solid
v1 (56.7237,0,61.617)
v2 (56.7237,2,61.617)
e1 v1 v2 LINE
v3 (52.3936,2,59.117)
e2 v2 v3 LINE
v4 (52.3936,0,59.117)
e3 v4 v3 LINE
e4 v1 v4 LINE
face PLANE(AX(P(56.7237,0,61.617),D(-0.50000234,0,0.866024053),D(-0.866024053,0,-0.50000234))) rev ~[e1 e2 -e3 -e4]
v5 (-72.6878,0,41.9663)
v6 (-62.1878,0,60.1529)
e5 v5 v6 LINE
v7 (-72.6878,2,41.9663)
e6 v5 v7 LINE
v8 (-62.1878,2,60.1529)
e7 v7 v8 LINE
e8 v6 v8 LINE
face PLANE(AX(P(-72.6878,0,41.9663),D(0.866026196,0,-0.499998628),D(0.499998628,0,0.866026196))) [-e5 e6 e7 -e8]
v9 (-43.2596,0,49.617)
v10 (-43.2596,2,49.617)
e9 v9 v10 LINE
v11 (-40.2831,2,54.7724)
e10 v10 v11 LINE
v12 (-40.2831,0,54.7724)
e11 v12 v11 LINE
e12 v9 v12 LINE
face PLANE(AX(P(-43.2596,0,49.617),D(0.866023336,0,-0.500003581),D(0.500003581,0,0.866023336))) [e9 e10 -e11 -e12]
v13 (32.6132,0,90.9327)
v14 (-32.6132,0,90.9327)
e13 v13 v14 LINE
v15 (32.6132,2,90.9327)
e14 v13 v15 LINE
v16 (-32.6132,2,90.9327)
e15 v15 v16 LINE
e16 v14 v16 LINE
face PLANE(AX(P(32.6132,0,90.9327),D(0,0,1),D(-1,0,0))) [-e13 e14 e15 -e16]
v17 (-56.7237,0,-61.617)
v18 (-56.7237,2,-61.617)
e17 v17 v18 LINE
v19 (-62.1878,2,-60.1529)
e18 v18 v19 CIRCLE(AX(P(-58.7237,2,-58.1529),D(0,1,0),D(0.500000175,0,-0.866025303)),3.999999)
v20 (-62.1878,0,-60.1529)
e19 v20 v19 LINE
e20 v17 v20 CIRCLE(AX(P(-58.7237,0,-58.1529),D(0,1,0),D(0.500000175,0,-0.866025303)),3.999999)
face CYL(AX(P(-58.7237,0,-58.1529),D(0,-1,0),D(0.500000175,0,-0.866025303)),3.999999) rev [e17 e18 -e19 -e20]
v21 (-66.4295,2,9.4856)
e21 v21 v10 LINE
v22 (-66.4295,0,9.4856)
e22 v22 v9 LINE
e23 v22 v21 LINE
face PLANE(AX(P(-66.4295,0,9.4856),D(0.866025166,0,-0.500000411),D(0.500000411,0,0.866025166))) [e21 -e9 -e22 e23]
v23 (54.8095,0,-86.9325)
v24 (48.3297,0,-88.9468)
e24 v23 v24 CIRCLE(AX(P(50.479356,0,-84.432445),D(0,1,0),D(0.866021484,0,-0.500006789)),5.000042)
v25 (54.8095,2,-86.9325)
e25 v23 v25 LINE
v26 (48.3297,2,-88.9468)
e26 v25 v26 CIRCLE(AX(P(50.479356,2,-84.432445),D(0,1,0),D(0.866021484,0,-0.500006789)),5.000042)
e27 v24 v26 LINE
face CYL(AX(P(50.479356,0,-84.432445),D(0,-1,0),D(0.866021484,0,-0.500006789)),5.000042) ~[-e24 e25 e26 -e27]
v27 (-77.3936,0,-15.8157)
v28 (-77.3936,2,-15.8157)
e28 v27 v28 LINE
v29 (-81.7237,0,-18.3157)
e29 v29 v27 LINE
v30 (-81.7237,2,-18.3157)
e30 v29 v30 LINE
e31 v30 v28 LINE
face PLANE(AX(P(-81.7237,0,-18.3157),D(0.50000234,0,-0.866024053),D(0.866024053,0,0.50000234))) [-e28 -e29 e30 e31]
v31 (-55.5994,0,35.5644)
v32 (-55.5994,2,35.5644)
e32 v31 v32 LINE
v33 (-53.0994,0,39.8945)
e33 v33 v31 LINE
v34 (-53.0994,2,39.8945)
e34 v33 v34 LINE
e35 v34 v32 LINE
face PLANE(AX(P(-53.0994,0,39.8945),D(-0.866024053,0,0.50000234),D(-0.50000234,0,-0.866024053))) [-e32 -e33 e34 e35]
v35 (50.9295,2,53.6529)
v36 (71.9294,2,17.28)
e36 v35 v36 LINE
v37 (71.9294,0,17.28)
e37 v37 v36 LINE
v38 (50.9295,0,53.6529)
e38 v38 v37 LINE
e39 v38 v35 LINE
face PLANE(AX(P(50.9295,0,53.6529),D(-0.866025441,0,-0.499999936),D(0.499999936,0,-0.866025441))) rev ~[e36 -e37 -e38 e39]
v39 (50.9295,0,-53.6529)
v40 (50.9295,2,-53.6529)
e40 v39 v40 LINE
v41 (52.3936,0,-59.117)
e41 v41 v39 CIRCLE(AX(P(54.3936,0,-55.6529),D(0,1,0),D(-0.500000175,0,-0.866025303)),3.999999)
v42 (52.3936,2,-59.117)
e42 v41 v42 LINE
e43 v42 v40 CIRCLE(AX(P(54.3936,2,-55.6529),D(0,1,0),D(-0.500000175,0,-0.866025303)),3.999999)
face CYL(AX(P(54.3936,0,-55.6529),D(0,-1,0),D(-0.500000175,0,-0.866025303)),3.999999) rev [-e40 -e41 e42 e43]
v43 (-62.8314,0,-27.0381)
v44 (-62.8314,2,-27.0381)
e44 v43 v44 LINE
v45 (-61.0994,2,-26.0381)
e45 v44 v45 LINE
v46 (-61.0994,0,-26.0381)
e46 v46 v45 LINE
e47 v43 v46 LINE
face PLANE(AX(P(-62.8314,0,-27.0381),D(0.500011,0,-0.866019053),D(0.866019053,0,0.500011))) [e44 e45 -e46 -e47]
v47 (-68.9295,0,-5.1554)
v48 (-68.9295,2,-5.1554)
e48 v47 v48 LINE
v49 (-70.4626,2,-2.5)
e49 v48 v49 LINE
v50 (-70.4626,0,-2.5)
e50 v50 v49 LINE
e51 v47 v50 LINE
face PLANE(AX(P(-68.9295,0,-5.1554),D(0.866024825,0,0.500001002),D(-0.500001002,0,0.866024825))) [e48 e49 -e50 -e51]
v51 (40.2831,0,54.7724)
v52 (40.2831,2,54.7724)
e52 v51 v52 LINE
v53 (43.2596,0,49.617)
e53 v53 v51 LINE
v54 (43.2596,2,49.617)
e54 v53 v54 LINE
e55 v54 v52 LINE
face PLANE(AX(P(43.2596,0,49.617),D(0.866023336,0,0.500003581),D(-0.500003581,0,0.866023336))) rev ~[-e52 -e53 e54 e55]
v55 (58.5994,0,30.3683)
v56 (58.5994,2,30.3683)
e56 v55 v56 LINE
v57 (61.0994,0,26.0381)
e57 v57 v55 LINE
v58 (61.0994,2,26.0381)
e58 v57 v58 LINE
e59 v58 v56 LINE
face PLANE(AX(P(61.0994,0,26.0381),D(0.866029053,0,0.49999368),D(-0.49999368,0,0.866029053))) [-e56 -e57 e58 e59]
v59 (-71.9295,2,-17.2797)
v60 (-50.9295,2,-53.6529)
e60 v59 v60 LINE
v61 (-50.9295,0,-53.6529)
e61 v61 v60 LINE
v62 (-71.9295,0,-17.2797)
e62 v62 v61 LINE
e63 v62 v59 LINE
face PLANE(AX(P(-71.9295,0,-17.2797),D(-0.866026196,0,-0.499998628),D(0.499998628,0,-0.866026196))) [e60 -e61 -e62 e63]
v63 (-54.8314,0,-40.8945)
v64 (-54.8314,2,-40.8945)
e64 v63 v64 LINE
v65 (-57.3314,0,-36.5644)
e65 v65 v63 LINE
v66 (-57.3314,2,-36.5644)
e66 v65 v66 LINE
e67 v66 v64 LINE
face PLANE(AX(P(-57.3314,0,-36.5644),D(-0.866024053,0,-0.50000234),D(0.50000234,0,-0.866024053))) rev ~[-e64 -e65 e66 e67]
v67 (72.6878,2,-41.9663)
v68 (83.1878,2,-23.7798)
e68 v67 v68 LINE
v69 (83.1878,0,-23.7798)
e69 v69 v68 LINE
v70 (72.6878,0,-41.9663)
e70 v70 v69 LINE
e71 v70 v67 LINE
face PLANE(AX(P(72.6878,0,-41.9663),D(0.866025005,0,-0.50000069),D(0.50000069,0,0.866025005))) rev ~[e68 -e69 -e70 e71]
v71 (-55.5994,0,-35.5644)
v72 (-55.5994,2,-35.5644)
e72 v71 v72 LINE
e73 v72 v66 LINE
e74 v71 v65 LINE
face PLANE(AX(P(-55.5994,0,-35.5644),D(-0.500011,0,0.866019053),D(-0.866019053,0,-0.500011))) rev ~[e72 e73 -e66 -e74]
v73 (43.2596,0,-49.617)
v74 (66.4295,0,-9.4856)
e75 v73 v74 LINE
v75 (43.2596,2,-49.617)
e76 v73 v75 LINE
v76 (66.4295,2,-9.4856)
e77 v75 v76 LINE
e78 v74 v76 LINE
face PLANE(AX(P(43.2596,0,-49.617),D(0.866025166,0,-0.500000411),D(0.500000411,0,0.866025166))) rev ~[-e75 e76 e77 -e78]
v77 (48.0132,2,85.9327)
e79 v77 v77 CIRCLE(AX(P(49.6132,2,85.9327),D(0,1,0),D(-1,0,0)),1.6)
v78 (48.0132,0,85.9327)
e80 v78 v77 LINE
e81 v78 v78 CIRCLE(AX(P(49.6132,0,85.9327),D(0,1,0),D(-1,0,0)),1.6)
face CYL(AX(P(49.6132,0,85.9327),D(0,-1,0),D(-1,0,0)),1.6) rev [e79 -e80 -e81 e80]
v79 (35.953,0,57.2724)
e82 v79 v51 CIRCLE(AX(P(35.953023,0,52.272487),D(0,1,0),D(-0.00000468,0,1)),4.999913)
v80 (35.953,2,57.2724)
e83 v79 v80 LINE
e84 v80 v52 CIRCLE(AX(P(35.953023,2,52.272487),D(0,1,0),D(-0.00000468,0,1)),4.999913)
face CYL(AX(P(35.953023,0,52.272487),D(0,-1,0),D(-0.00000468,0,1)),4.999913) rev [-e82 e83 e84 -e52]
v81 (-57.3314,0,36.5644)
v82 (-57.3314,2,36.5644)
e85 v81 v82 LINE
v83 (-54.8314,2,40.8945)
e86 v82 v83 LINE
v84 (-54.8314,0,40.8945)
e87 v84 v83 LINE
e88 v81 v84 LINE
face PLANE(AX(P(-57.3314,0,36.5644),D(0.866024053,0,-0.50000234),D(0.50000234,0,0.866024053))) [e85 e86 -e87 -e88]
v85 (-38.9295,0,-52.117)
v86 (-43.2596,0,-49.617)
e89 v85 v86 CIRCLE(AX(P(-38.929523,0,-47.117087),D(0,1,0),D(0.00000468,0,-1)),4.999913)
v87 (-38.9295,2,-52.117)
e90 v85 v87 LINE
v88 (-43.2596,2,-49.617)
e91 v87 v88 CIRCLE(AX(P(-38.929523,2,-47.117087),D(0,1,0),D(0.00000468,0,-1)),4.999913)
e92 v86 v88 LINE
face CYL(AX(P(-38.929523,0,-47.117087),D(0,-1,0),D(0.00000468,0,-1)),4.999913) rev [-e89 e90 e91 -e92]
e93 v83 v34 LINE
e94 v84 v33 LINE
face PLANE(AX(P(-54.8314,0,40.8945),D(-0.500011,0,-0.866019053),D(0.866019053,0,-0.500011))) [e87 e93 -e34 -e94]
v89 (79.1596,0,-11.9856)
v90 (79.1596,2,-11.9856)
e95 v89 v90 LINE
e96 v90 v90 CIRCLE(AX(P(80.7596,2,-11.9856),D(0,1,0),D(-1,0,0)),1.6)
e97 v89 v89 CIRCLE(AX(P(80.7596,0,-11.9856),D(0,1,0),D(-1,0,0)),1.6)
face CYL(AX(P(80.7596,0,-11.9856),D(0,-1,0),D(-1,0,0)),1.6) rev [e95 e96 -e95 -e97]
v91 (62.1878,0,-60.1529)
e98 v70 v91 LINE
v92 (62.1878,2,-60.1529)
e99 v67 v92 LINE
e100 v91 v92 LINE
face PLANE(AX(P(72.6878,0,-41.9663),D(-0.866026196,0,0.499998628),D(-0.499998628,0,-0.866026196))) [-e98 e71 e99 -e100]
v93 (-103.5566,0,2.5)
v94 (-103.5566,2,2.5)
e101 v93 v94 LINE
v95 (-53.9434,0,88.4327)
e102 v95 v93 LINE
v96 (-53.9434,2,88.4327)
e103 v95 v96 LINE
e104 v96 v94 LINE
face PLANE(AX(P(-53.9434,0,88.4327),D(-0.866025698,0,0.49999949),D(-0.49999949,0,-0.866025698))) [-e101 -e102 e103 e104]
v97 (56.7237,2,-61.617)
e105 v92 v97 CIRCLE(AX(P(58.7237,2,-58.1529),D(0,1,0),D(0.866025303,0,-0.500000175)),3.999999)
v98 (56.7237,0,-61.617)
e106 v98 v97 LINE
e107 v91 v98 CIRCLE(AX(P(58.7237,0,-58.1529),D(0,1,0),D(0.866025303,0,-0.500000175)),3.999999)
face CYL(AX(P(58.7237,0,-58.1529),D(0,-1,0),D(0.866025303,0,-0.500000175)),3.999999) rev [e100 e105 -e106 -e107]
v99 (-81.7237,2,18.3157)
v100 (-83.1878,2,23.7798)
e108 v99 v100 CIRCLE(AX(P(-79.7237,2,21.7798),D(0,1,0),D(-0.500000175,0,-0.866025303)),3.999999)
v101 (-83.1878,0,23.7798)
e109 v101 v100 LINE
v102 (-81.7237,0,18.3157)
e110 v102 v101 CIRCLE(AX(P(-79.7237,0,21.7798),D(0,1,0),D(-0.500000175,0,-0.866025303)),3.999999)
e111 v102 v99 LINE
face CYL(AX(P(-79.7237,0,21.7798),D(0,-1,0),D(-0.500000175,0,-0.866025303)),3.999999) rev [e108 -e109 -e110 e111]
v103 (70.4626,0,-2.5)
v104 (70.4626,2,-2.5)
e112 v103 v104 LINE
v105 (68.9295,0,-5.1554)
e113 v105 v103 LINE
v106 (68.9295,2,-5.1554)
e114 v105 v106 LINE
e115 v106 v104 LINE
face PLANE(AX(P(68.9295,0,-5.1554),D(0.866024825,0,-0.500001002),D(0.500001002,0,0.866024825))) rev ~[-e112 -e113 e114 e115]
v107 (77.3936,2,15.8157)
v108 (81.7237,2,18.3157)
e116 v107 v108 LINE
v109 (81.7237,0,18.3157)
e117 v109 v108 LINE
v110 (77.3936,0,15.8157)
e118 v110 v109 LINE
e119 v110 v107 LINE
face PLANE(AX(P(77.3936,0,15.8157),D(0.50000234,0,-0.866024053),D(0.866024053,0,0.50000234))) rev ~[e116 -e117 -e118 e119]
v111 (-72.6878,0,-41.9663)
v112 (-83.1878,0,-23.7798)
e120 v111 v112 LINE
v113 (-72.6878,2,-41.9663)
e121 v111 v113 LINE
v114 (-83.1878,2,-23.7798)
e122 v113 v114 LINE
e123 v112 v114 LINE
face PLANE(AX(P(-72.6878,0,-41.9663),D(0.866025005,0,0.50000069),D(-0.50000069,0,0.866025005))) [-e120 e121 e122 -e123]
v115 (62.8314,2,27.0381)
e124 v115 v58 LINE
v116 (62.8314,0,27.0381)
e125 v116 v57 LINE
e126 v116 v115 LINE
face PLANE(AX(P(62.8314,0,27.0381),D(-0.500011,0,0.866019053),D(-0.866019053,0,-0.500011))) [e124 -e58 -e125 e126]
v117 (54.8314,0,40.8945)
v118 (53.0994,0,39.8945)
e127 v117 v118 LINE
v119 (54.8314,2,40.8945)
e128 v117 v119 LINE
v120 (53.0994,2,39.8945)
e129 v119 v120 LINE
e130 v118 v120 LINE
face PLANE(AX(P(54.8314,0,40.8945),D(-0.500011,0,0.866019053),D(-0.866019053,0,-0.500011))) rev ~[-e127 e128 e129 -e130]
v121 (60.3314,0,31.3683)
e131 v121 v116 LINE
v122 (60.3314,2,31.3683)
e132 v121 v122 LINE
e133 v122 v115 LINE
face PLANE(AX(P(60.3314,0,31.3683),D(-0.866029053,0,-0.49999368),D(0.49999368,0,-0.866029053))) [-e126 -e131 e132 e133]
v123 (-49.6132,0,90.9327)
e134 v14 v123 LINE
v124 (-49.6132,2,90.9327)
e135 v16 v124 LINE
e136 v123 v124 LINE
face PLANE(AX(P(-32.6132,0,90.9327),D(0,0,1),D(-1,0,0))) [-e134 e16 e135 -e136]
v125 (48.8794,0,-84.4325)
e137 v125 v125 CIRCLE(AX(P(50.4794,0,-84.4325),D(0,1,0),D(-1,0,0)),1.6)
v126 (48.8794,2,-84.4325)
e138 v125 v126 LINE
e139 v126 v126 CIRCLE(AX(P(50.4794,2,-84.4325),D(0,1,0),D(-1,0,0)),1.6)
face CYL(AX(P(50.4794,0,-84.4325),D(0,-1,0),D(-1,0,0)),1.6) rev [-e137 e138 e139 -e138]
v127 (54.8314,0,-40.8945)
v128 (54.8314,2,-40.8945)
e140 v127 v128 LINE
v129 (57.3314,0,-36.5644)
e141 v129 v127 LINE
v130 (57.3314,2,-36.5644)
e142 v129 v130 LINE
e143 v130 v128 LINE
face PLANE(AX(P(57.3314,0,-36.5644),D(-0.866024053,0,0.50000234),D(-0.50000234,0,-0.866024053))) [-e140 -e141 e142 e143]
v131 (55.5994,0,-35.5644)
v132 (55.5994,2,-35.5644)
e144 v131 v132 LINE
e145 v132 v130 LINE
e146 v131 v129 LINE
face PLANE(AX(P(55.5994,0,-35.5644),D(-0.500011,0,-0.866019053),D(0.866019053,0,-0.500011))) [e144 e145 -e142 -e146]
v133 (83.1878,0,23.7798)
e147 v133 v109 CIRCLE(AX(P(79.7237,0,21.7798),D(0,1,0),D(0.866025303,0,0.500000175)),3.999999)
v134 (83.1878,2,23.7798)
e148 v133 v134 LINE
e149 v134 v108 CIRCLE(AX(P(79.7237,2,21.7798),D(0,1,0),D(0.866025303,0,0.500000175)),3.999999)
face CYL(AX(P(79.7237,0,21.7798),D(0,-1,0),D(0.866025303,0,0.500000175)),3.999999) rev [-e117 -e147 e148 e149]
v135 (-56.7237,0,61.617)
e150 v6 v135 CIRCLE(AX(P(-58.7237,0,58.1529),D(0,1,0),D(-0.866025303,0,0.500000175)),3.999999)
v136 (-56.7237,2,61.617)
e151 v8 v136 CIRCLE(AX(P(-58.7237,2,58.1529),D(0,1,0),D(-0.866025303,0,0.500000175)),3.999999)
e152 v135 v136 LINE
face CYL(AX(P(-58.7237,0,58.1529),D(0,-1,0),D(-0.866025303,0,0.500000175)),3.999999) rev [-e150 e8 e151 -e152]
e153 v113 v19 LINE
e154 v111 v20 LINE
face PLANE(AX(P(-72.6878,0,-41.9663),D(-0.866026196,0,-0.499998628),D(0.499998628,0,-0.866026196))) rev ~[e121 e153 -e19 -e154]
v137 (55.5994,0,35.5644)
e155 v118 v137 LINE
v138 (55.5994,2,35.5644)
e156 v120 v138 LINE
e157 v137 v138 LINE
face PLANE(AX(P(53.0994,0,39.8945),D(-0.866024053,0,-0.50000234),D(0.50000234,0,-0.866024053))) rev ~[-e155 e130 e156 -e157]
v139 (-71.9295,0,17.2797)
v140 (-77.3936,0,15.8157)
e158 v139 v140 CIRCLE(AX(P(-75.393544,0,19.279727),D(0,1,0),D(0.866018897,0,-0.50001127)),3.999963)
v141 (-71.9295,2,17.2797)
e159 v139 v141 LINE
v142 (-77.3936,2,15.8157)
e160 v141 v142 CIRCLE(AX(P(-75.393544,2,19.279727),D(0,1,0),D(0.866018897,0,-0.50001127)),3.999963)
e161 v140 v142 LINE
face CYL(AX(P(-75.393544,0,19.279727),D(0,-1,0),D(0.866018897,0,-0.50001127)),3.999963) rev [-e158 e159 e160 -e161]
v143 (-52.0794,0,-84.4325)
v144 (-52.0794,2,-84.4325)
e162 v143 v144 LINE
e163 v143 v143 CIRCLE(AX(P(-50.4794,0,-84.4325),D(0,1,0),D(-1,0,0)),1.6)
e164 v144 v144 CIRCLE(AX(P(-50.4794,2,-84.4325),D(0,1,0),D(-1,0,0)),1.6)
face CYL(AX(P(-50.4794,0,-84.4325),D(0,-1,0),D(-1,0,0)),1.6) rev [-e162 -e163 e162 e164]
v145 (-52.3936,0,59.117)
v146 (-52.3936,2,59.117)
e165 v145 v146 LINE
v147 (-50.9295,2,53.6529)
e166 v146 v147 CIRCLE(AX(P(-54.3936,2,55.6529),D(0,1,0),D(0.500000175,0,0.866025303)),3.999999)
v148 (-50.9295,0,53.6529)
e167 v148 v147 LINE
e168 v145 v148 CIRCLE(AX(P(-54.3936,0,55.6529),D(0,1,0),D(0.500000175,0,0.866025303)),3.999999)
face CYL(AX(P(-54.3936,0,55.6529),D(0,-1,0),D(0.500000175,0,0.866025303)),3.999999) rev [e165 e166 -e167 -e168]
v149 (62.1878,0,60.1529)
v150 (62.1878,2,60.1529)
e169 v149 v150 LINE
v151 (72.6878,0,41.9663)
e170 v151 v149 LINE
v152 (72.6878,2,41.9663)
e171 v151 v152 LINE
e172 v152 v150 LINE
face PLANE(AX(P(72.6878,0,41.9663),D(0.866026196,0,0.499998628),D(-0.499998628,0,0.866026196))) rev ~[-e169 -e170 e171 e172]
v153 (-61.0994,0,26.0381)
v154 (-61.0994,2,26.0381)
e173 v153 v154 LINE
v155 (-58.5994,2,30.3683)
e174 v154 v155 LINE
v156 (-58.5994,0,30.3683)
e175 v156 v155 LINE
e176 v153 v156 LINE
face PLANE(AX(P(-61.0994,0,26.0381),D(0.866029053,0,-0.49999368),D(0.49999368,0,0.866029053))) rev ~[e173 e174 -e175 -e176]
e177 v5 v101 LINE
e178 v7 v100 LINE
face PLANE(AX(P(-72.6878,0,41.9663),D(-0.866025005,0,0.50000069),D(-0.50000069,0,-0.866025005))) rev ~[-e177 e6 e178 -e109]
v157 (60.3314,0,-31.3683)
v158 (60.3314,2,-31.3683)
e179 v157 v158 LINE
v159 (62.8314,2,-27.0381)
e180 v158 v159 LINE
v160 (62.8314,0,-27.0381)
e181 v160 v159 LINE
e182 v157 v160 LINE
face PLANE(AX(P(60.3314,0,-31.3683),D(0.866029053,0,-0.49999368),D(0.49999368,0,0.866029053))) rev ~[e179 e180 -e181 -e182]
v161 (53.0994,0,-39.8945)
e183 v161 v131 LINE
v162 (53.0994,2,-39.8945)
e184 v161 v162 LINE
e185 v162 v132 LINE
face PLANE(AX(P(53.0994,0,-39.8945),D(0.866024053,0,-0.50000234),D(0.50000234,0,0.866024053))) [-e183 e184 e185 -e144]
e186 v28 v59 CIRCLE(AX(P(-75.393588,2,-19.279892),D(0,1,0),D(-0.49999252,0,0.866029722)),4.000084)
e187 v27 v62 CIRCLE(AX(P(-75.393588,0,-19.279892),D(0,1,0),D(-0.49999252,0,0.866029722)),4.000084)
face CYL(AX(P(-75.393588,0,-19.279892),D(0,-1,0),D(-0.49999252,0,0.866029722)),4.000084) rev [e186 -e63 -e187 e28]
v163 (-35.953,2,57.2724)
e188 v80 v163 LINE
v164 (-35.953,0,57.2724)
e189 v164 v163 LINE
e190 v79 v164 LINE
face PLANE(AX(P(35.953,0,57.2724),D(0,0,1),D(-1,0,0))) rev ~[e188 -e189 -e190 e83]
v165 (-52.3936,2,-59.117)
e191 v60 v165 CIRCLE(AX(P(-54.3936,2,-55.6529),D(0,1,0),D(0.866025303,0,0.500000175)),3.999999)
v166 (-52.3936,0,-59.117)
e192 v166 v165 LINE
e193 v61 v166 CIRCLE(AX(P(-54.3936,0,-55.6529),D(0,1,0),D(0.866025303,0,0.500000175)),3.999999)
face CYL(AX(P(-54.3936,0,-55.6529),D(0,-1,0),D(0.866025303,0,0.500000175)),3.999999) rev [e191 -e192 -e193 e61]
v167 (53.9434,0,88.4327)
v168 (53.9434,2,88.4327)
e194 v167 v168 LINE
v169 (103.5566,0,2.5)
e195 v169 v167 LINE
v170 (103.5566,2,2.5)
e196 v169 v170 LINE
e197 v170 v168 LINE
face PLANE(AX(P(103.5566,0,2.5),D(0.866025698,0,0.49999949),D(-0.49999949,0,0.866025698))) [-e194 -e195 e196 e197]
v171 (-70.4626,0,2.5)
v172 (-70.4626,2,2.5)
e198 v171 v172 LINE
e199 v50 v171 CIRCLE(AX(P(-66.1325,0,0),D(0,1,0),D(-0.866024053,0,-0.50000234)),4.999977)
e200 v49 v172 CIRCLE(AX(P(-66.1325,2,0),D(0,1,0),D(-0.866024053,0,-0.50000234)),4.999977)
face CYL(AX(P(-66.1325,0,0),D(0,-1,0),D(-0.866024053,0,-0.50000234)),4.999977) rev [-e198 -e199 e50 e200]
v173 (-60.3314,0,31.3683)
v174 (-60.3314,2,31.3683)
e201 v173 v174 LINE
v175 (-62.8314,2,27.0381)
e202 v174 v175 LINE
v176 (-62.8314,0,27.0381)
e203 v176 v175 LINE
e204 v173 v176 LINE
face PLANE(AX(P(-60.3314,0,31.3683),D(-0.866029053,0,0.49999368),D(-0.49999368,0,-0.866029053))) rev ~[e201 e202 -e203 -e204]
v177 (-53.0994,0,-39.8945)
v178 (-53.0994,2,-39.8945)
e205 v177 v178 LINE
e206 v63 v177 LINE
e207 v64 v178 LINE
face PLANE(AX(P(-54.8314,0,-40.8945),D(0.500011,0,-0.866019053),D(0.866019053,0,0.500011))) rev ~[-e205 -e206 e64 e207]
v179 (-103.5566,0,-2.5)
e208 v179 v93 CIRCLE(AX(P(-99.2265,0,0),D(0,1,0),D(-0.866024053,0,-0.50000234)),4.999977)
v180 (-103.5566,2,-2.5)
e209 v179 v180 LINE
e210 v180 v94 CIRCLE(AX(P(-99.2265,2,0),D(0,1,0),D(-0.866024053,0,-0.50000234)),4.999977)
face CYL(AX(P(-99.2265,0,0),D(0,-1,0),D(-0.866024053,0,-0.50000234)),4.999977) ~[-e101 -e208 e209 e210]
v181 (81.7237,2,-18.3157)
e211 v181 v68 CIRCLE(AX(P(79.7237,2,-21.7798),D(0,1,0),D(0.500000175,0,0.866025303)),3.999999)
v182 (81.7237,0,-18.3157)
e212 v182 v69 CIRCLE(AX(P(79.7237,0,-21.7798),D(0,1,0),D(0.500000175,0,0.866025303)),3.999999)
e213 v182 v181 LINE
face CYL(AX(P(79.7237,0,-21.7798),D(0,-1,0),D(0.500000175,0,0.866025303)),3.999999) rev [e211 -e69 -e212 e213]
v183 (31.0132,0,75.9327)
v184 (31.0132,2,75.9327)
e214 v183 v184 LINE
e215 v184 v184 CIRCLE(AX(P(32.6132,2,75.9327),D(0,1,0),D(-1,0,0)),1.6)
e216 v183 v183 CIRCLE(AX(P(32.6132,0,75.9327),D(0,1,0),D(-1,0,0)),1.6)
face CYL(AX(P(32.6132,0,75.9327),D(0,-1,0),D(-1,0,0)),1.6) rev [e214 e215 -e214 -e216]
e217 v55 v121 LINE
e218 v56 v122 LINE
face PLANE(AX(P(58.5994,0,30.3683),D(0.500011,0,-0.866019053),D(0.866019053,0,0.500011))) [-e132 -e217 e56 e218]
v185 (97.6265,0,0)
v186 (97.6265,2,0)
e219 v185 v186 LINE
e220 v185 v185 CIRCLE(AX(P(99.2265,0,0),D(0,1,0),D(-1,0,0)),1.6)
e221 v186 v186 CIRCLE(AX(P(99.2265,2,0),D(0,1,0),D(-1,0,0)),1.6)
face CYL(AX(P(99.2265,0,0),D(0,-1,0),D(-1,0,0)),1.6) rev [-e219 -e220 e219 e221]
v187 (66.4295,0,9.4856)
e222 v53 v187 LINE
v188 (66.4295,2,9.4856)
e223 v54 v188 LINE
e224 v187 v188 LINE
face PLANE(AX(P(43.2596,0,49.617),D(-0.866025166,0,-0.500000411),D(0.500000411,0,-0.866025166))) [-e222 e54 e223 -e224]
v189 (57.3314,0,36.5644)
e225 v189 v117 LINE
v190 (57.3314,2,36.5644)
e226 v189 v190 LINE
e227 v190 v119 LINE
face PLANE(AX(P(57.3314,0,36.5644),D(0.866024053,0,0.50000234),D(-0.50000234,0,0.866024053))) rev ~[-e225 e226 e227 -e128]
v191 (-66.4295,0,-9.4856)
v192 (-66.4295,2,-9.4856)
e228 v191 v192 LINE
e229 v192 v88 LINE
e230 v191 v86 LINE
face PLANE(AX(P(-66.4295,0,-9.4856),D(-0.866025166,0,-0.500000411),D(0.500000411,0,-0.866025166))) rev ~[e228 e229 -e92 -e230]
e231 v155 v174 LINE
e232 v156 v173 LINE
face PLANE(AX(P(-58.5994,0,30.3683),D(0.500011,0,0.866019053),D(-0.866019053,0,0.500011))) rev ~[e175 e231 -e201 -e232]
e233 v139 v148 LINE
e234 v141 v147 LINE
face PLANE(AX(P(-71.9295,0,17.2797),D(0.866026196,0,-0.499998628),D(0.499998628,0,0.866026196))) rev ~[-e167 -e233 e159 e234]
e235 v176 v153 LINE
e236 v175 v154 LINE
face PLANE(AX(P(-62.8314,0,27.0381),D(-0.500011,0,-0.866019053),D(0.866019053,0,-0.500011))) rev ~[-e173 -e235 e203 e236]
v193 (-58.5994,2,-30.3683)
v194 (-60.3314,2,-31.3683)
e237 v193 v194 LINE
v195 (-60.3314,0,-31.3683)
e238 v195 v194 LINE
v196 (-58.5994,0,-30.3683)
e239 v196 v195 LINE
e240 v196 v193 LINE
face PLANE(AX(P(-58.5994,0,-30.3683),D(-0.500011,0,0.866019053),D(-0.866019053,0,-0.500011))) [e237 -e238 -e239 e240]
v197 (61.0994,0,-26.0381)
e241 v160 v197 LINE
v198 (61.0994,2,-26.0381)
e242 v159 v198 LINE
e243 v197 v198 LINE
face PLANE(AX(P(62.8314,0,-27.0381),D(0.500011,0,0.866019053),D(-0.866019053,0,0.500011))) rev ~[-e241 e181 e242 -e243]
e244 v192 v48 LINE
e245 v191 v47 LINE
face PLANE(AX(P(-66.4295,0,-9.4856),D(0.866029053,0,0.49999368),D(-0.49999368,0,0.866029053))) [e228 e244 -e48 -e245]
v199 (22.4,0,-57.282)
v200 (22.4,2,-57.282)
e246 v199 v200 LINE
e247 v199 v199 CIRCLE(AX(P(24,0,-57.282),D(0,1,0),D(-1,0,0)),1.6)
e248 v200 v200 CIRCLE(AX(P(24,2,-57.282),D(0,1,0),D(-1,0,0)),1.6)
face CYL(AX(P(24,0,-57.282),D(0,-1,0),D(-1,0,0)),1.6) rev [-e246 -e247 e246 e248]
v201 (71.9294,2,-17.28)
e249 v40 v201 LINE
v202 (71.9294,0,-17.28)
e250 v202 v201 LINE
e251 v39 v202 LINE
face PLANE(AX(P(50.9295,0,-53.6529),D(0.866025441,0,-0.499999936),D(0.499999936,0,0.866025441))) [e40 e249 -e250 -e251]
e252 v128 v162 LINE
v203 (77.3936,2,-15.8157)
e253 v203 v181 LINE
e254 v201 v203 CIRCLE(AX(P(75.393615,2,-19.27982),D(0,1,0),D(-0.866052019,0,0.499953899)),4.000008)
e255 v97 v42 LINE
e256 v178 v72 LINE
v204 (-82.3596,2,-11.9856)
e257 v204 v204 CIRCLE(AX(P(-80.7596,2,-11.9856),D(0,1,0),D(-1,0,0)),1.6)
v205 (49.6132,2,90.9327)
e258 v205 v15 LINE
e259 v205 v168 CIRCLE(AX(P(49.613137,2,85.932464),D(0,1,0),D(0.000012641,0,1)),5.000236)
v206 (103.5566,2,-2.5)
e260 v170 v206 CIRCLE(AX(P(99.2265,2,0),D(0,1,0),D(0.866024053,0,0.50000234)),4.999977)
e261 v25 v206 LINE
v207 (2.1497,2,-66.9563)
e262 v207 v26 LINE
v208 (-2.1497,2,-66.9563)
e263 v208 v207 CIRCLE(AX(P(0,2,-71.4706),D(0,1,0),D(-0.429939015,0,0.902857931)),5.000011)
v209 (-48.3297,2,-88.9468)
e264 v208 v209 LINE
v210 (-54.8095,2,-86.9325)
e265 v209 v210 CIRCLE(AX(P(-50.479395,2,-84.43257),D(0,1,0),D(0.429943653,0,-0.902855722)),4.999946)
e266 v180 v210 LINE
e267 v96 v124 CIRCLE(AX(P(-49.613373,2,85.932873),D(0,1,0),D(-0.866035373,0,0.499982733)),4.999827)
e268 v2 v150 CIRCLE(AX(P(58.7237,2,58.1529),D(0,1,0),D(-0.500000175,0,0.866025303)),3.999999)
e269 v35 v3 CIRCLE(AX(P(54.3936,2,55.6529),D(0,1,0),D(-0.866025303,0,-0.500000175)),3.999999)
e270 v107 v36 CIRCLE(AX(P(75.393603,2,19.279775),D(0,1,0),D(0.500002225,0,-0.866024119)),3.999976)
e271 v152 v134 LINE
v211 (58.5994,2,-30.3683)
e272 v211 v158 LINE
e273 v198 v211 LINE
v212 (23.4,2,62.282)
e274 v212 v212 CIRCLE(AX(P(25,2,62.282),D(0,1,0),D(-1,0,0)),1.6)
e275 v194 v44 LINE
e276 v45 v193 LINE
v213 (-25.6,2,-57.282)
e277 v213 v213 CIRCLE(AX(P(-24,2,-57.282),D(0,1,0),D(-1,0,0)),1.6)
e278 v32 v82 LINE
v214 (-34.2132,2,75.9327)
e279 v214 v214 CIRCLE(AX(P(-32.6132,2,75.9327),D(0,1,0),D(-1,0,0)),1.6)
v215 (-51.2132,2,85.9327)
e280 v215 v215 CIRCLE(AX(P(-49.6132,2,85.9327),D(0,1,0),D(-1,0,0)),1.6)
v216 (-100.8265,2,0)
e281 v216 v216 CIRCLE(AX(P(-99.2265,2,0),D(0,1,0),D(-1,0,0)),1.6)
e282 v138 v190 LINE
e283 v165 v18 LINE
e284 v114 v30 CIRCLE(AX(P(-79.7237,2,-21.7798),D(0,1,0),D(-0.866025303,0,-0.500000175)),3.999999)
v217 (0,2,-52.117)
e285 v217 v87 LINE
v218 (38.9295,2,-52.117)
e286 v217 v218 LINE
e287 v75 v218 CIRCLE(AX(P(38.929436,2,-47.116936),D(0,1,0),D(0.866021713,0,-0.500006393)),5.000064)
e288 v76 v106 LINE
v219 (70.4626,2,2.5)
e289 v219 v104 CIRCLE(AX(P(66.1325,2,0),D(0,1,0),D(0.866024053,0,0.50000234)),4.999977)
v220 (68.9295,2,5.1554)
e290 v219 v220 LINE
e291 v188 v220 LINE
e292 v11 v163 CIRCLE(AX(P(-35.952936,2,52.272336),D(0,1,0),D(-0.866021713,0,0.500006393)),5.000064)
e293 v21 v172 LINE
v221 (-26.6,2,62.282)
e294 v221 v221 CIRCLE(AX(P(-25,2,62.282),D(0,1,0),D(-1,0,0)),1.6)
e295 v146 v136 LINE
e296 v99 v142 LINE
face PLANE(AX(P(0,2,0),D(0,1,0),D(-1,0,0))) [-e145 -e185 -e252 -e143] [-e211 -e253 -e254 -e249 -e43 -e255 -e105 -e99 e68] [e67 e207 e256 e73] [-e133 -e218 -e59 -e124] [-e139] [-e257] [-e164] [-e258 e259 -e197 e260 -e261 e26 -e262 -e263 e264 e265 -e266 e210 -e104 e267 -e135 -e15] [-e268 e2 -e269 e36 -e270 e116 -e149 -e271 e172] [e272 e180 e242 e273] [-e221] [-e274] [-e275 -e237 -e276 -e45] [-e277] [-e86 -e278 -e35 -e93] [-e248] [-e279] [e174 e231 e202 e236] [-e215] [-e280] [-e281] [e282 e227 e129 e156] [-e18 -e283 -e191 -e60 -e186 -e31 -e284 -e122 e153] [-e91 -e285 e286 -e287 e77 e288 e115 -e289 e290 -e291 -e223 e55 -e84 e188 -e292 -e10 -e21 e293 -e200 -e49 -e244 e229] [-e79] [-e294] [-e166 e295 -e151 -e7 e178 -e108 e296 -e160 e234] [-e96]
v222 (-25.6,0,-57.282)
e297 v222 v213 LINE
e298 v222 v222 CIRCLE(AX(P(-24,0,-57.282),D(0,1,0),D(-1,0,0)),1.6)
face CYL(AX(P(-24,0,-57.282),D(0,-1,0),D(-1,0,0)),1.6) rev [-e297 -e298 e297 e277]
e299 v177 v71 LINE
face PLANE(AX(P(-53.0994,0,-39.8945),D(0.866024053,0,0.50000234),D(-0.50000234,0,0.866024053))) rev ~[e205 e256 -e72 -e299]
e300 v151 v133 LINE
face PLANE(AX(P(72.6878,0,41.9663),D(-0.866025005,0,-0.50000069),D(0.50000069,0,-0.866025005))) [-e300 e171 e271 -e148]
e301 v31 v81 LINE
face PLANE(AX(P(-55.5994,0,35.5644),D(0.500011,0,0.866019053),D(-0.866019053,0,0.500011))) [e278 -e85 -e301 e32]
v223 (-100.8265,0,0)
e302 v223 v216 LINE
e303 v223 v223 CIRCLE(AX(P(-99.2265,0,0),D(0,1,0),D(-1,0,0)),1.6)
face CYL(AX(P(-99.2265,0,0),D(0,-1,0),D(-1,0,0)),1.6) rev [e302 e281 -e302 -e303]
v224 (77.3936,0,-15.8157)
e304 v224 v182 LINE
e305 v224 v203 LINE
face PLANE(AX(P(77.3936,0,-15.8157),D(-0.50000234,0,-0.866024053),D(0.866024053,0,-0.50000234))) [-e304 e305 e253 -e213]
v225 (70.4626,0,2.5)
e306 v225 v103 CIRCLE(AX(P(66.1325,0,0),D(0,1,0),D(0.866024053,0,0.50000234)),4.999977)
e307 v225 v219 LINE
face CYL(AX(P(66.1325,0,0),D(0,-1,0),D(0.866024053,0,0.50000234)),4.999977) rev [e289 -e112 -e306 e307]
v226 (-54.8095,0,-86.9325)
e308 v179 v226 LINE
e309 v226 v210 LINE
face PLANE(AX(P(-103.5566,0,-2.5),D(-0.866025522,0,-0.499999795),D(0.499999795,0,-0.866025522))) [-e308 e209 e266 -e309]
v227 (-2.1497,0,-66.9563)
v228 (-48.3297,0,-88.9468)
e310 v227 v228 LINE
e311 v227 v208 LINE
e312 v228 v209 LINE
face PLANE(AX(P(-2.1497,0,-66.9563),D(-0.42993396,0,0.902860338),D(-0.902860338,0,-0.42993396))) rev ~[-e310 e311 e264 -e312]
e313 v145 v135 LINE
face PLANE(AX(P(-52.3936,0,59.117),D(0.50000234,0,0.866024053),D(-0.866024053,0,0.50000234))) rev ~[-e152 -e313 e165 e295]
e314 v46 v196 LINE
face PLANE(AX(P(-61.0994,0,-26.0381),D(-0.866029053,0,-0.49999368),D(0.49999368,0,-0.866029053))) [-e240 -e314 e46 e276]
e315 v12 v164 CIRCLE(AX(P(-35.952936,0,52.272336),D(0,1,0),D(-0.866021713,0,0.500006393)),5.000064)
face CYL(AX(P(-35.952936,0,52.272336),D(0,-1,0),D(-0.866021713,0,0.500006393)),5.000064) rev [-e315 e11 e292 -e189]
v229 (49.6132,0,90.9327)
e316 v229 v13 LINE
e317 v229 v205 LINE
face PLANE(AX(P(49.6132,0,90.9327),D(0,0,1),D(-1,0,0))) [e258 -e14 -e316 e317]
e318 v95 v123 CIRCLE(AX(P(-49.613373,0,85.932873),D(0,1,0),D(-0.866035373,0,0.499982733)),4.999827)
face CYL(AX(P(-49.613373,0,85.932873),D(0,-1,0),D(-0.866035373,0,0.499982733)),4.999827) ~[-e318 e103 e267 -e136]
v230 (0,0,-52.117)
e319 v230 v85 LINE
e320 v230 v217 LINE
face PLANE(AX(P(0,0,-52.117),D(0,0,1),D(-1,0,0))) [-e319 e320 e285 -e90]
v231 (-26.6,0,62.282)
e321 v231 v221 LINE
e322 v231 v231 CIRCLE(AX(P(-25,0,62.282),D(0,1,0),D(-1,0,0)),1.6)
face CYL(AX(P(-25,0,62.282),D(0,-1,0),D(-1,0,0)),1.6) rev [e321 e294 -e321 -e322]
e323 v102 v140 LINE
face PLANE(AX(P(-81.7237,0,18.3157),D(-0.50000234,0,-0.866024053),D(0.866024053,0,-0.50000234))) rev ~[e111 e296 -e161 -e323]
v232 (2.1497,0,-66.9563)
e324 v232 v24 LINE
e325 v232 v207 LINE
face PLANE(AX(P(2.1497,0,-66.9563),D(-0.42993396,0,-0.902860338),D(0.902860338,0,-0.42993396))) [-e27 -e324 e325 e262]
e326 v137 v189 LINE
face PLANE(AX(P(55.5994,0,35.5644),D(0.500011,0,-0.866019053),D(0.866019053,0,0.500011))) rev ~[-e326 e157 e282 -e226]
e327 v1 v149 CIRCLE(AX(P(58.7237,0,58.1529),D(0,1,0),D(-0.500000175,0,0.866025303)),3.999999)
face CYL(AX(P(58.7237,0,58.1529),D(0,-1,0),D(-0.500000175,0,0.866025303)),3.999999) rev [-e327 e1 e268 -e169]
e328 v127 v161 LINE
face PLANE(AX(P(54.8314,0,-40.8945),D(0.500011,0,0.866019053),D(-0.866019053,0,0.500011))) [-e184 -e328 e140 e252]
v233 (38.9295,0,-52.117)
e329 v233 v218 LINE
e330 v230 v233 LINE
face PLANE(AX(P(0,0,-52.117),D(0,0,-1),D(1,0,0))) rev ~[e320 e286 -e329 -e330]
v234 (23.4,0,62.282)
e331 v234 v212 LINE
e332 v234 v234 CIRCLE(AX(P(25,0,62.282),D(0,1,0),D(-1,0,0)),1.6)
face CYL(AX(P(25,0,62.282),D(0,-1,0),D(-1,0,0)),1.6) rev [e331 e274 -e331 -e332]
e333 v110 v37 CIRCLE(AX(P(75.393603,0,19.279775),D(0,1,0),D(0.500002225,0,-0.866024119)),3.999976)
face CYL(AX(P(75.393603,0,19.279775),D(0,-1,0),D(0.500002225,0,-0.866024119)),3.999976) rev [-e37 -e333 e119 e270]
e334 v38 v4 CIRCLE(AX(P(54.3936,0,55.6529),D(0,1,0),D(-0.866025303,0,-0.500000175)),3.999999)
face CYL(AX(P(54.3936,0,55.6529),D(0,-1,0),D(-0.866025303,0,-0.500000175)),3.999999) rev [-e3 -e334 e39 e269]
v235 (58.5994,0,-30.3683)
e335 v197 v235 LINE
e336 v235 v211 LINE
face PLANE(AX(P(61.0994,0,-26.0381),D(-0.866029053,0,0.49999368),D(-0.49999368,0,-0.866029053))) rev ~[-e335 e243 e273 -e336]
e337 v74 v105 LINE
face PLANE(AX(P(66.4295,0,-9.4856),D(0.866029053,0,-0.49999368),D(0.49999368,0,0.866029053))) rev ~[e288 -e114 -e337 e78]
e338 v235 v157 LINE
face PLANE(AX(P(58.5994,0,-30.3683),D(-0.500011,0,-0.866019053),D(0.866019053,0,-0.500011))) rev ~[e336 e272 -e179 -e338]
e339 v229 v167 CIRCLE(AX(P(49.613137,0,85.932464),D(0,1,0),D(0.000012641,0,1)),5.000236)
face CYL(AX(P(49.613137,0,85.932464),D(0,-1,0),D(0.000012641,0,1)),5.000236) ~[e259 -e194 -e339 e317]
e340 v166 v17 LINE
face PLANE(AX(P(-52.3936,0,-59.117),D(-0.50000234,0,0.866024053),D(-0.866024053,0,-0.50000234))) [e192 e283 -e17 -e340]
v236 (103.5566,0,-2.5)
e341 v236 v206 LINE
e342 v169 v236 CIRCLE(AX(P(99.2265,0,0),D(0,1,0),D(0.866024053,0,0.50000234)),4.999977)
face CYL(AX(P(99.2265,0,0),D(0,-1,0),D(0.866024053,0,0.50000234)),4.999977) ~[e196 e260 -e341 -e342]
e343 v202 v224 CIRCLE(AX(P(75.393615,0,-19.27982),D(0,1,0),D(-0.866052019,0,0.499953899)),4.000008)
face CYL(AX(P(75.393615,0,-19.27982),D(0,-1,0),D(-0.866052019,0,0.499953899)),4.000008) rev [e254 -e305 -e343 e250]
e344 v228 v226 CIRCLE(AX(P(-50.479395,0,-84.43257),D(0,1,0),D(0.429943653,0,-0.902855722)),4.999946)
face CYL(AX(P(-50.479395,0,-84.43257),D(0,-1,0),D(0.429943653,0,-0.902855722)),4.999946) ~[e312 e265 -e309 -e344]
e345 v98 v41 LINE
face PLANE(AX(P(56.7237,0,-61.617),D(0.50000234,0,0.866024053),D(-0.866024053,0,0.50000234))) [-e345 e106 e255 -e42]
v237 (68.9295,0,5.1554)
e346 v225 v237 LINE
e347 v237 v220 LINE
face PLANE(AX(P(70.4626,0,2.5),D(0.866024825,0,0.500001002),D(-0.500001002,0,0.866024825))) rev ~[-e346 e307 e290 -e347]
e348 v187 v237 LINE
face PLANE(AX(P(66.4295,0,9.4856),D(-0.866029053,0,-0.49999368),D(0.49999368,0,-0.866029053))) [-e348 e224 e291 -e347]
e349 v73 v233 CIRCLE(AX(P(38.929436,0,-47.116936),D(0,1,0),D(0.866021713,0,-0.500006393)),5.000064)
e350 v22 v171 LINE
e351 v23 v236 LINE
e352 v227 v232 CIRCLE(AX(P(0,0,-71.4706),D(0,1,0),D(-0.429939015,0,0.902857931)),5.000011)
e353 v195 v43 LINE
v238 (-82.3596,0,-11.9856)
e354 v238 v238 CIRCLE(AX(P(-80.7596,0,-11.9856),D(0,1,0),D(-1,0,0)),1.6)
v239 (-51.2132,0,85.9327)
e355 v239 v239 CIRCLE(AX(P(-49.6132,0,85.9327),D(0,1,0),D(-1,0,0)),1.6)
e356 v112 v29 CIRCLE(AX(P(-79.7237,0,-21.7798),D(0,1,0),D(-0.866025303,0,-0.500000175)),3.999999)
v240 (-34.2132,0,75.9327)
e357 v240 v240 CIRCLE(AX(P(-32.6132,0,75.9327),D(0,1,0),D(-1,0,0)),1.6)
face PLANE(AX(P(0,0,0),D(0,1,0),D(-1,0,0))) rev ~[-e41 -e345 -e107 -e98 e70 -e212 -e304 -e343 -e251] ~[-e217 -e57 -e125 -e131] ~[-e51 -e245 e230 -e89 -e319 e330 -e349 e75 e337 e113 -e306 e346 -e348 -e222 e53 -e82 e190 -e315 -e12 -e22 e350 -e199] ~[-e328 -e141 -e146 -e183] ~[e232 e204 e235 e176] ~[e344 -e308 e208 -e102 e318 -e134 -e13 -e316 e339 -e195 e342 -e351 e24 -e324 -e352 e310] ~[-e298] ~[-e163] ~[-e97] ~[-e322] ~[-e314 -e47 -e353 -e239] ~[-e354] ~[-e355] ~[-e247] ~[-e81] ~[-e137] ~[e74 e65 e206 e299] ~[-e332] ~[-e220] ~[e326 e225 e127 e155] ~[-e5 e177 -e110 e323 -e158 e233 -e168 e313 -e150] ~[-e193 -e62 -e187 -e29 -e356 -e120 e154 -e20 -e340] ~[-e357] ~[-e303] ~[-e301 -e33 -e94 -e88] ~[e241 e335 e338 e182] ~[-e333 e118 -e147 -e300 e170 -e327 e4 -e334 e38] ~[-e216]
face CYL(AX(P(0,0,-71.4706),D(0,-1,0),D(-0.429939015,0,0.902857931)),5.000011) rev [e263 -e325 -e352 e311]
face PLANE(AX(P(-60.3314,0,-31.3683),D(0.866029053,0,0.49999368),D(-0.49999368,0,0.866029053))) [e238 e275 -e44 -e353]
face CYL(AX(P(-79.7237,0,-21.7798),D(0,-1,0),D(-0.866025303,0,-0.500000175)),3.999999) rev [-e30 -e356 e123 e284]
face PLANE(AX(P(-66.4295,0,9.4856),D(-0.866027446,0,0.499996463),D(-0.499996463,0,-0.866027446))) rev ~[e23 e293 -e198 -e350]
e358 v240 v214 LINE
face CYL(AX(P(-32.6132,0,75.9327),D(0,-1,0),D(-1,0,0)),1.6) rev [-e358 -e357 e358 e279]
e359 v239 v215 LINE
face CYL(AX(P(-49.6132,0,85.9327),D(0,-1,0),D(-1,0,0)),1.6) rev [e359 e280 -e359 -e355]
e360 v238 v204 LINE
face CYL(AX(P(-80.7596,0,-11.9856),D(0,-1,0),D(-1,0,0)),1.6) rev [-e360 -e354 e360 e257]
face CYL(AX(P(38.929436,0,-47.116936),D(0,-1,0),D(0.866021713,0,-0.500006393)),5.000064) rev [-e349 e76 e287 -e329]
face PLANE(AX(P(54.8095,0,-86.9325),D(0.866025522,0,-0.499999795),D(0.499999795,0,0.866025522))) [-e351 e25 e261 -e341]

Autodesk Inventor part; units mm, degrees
ref_plane "YZ Plane" through (0, 0, 0) normal (1, 0, 0) x (0, 1, 0)
ref_plane "XZ Plane" through (0, 0, 0) normal (0, 1, 0) x (-1, 0, 0)
ref_plane "XY Plane" through (0, 0, 0) normal (0, 0, 1) x (1, 0, 0)
sketch "Sketch1" plane through (0, 0, 0) normal (0, 1, 0) x (-1, 0, 0)
  line L0 (72.6878, -41.9663) -> (62.1878, -60.1529)
  line L1 (72.6878, -41.9663) -> (83.1878, -23.7798)
  line L2 (81.7237, -18.3157) -> (77.3936, -15.8157)
  line L3 (71.9295, -17.2797) -> (50.9295, -53.6529)
  line L4 (52.3936, -59.117) -> (56.7237, -61.617)
  arc A0 (56.7237, -61.617) -> (62.1878, -60.1529) centre (58.7237, -58.1529) ccw
  arc A1 (50.9295, -53.6529) -> (52.3936, -59.117) centre (54.3936, -55.6529) ccw
  arc A2 (77.3936, -15.8157) -> (71.9295, -17.2797) centre (75.3936, -19.2798) ccw
  arc A3 (83.1878, -23.7798) -> (81.7237, -18.3157) centre (79.7237, -21.7798) ccw
  line L5 (55.5994, -35.5644) -> (57.3314, -36.5644)
  line L6 (57.3314, -36.5644) -> (54.8314, -40.8945)
  line L7 (53.0994, -39.8945) -> (55.5994, -35.5644)
  line L8 (54.8314, -40.8945) -> (53.0994, -39.8945)
  line L9 (61.0994, -26.0381) -> (58.5994, -30.3683)
  line L10 (60.3314, -31.3683) -> (62.8314, -27.0381)
  line L11 (58.5994, -30.3683) -> (60.3314, -31.3683)
  line L12 (62.8314, -27.0381) -> (61.0994, -26.0381)
  line L13 (-72.6878, -41.9663) -> (-83.1878, -23.7798)
  line L14 (-72.6878, -41.9663) -> (-62.1878, -60.1529)
  line L15 (-56.7237, -61.617) -> (-52.3936, -59.117)
  line L16 (-50.9295, -53.6529) -> (-71.9294, -17.28)
  line L17 (-77.3936, -15.8157) -> (-81.7237, -18.3157)
  arc A4 (-81.7237, -18.3157) -> (-83.1878, -23.7798) centre (-79.7237, -21.7798) ccw
  arc A5 (-71.9294, -17.28) -> (-77.3936, -15.8157) centre (-75.3936, -19.2798) ccw
  arc A6 (-52.3936, -59.117) -> (-50.9295, -53.6529) centre (-54.3936, -55.6529) ccw
  arc A7 (-62.1878, -60.1529) -> (-56.7237, -61.617) centre (-58.7237, -58.1529) ccw
  line L18 (-58.5994, -30.3683) -> (-60.3314, -31.3683)
  line L19 (-61.0994, -26.0381) -> (-58.5994, -30.3683)
  line L20 (-62.8314, -27.0381) -> (-61.0994, -26.0381)
  line L21 (-60.3314, -31.3683) -> (-62.8314, -27.0381)
  line L22 (-54.8314, -40.8945) -> (-53.0994, -39.8945)
  line L23 (-53.0994, -39.8945) -> (-55.5994, -35.5644)
  line L24 (-55.5994, -35.5644) -> (-57.3314, -36.5644)
  line L25 (-57.3314, -36.5644) -> (-54.8314, -40.8945)
  line L26 (103.5566, -2.5) -> (54.8095, -86.9325)
  line L27 (-54.8095, -86.9325) -> (-103.5566, -2.5)
  line L28 (-103.5566, 2.5) -> (-53.9434, 88.4327)
  line L29 (-49.6132, 90.9327) -> (49.6132, 90.9327)
  line L30 (53.9434, 88.4327) -> (103.5566, 2.5)
  line L31 (2.1497, -66.9563) -> (48.3297, -88.9468)
  line L32 (-2.1497, -66.9563) -> (-48.3297, -88.9468)
  arc A8 (48.3297, -88.9468) -> (54.8095, -86.9325) centre (50.4794, -84.4325) ccw
  arc A9 (2.1497, -66.9563) -> (-2.1497, -66.9563) centre (0, -71.4706) ccw
  arc A10 (-54.8095, -86.9325) -> (-48.3297, -88.9468) centre (-50.4794, -84.4325) ccw
  arc A11 (-103.5566, 2.5) -> (-103.5566, -2.5) centre (-99.2265, 0) ccw
  arc A12 (-49.6132, 90.9327) -> (-53.9434, 88.4327) centre (-49.6132, 85.9327) ccw
  arc A13 (53.9434, 88.4327) -> (49.6132, 90.9327) centre (49.6132, 85.9327) ccw
  arc A14 (103.5566, -2.5) -> (103.5566, 2.5) centre (99.2265, 0) ccw
  circle A15 centre (49.6132, 85.9327) radius 1.6
  circle A16 centre (-49.6132, 85.9327) radius 1.6
  circle A17 centre (-99.2265, 0) radius 1.6
  circle A18 centre (99.2265, 0) radius 1.6
  line L33 (0, -52.117) -> (-38.9295, -52.117)
  line L34 (0, -52.117) -> (38.9295, -52.117)
  line L35 (66.4295, -9.4856) -> (43.2596, -49.617)
  line L36 (-43.2596, -49.617) -> (-66.4295, -9.4856)
  arc A19 (38.9295, -52.117) -> (43.2596, -49.617) centre (38.9295, -47.117) ccw
  arc A20 (-43.2596, -49.617) -> (-38.9295, -52.117) centre (-38.9295, -47.117) ccw
  circle A21 centre (50.4794, -84.4325) radius 1.6
  circle A22 centre (-50.4794, -84.4325) radius 1.6
  circle A23 centre (-25, 62.282) radius 1.6
  circle A24 centre (25, 62.282) radius 1.6
  circle A25 centre (24, -57.282) radius 1.6
  circle A26 centre (-24, -57.282) radius 1.6
  line L37 (49.6132, 90.9327) -> (32.6132, 90.9327)
  line L38 (-49.6132, 90.9327) -> (-32.6132, 90.9327)
  line L39 (66.4295, -9.4856) -> (68.9295, -5.1554)
  line L40 (-66.4295, -9.4856) -> (-68.9295, -5.1554)
  circle A27 centre (80.7596, -11.9856) radius 1.6
  circle A28 centre (-80.7596, -11.9856) radius 1.6
  line L41 (72.6878, 41.9663) -> (62.1878, 60.1529)
  line L42 (72.6878, 41.9663) -> (83.1878, 23.7798)
  line L43 (81.7237, 18.3157) -> (77.3936, 15.8157)
  line L44 (71.9295, 17.2797) -> (50.9295, 53.6529)
  line L45 (52.3936, 59.117) -> (56.7237, 61.617)
  arc A29 (62.1878, 60.1529) -> (56.7237, 61.617) centre (58.7237, 58.1529) ccw
  arc A30 (52.3936, 59.117) -> (50.9295, 53.6529) centre (54.3936, 55.6529) ccw
  arc A31 (71.9295, 17.2797) -> (77.3936, 15.8157) centre (75.3936, 19.2798) ccw
  arc A32 (81.7237, 18.3157) -> (83.1878, 23.7798) centre (79.7237, 21.7798) ccw
  line L46 (55.5994, 35.5644) -> (57.3314, 36.5644)
  line L47 (53.0994, 39.8945) -> (55.5994, 35.5644)
  line L48 (54.8314, 40.8945) -> (53.0994, 39.8945)
  line L49 (57.3314, 36.5644) -> (54.8314, 40.8945)
  line L50 (62.8314, 27.0381) -> (61.0994, 26.0381)
  line L51 (61.0994, 26.0381) -> (58.5994, 30.3683)
  line L52 (58.5994, 30.3683) -> (60.3314, 31.3683)
  line L53 (60.3314, 31.3683) -> (62.8314, 27.0381)
  arc A33 (-56.7237, 61.617) -> (-62.1878, 60.1529) centre (-58.7237, 58.1529) ccw
  line L54 (-56.7237, 61.617) -> (-52.3936, 59.117)
  arc A34 (-50.9295, 53.6529) -> (-52.3936, 59.117) centre (-54.3936, 55.6529) ccw
  line L55 (-72.6878, 41.9663) -> (-62.1878, 60.1529)
  line L56 (-54.8314, 40.8945) -> (-53.0994, 39.8945)
  line L57 (-57.3314, 36.5644) -> (-54.8314, 40.8945)
  line L58 (-53.0994, 39.8945) -> (-55.5994, 35.5644)
  line L59 (-55.5994, 35.5644) -> (-57.3314, 36.5644)
  line L60 (-58.5994, 30.3683) -> (-60.3314, 31.3683)
  line L61 (-60.3314, 31.3683) -> (-62.8314, 27.0381)
  line L62 (-61.0994, 26.0381) -> (-58.5994, 30.3683)
  line L63 (-50.9295, 53.6529) -> (-71.9294, 17.28)
  line L64 (-72.6878, 41.9663) -> (-83.1878, 23.7798)
  line L65 (-62.8314, 27.0381) -> (-61.0994, 26.0381)
  arc A35 (-83.1878, 23.7798) -> (-81.7237, 18.3157) centre (-79.7237, 21.7798) ccw
  line L66 (-77.3936, 15.8157) -> (-81.7237, 18.3157)
  arc A36 (-77.3936, 15.8157) -> (-71.9294, 17.28) centre (-75.3936, 19.2798) ccw
  line L67 (66.4295, 9.4856) -> (43.2596, 49.617)
  line L68 (-43.2596, 49.617) -> (-66.4295, 9.4856)
  line L69 (66.4295, 9.4856) -> (70.4626, 2.5)
  line L70 (-66.4295, 9.4856) -> (-68.9295, 5.1554)
  line L71 (43.2596, 49.617) -> (40.2831, 54.7724)
  line L72 (-43.2596, 49.617) -> (-40.2831, 54.7724)
  line L73 (-35.953, 57.2724) -> (35.953, 57.2724)
  line L74 (68.9295, -5.1554) -> (70.4626, -2.5)
  line L75 (-68.9295, -5.1554) -> (-70.4626, -2.5)
  line L76 (-70.4626, 2.5) -> (-68.9295, 5.1554)
  arc A37 (40.2831, 54.7724) -> (35.953, 57.2724) centre (35.953, 52.2724) ccw
  arc A38 (-35.953, 57.2724) -> (-40.2831, 54.7724) centre (-35.953, 52.2724) ccw
  arc A39 (-70.4626, 2.5) -> (-70.4626, -2.5) centre (-66.1325, 0) ccw
  arc A40 (70.4626, -2.5) -> (70.4626, 2.5) centre (66.1325, 0) ccw
  circle A41 centre (80.7596, -11.9856) radius 1.6
  circle A42 centre (-80.7596, -11.9856) radius 1.6
  circle A43 centre (-32.6132, 75.9327) radius 1.6
  circle A44 centre (32.6132, 75.9327) radius 1.6
  line L77 (-80.7596, -11.9856) -> (-77.7596, -11.9856) construction
  point P0 (60.1878, -63.617)
  point P1 (85.1878, -20.3157)
  point P2 (73.9295, -13.8157)
  point P3 (48.9295, -57.117)
  point P4 (-85.1878, -20.3157)
  point P5 (-60.1878, -63.617)
  point P6 (-48.9295, -57.117)
  point P7 (-73.9295, -13.8157)
  point P8 (105, 0)
  point P9 (52.5, -90.9327)
  point P10 (-105, 0)
  point P11 (-52.5, 90.9327)
  point P12 (52.5, 90.9327)
  point P13 (-86.25, -15.1554)
  point P14 (-88.75, -10.8253)
  point P15 (61.9338, 57.2724)
  point P16 (71.4295, -0.8253)
  point P17 (-71.4295, -0.8253)
  point P18 (60.1878, 63.617)
  point P19 (85.1878, 20.3157)
  point P20 (73.9295, 13.8157)
  point P21 (48.9295, 57.117)
  point P22 (-48.9295, 57.117)
  point P23 (-60.1878, 63.617)
  point P24 (-73.9295, 13.8157)
  point P25 (-85.1878, 20.3157)
  point P26 (-88.75, 10.8253)
  point P27 (-86.25, 15.1554)
  point P28 (71.4295, 0.8253)
  dimension "d11" = 360
  dimension "d30" = 360
  dimension "d90" = 360
  dimension "d72" = 5
  dimension "d75" = 3.2
  dimension "d76" = 3.2
  dimension "d83" = 3.2
  dimension "d84" = 3.2
  dimension "d85" = 3.2
  dimension "d86" = 3.2
  dimension "d92" = 17
  dimension "d95" = 17
  dimension "d100" = 10
  dimension "d102" = 10
  dimension "d107" = 3.2
  dimension "d110" = 3.2
  dimension "d111" = 5
  dimension "d112" = 3.2
extrude "Extrusion1" add sketch "Sketch1" along normal blind 2
properties part number "Bottom Plate"
